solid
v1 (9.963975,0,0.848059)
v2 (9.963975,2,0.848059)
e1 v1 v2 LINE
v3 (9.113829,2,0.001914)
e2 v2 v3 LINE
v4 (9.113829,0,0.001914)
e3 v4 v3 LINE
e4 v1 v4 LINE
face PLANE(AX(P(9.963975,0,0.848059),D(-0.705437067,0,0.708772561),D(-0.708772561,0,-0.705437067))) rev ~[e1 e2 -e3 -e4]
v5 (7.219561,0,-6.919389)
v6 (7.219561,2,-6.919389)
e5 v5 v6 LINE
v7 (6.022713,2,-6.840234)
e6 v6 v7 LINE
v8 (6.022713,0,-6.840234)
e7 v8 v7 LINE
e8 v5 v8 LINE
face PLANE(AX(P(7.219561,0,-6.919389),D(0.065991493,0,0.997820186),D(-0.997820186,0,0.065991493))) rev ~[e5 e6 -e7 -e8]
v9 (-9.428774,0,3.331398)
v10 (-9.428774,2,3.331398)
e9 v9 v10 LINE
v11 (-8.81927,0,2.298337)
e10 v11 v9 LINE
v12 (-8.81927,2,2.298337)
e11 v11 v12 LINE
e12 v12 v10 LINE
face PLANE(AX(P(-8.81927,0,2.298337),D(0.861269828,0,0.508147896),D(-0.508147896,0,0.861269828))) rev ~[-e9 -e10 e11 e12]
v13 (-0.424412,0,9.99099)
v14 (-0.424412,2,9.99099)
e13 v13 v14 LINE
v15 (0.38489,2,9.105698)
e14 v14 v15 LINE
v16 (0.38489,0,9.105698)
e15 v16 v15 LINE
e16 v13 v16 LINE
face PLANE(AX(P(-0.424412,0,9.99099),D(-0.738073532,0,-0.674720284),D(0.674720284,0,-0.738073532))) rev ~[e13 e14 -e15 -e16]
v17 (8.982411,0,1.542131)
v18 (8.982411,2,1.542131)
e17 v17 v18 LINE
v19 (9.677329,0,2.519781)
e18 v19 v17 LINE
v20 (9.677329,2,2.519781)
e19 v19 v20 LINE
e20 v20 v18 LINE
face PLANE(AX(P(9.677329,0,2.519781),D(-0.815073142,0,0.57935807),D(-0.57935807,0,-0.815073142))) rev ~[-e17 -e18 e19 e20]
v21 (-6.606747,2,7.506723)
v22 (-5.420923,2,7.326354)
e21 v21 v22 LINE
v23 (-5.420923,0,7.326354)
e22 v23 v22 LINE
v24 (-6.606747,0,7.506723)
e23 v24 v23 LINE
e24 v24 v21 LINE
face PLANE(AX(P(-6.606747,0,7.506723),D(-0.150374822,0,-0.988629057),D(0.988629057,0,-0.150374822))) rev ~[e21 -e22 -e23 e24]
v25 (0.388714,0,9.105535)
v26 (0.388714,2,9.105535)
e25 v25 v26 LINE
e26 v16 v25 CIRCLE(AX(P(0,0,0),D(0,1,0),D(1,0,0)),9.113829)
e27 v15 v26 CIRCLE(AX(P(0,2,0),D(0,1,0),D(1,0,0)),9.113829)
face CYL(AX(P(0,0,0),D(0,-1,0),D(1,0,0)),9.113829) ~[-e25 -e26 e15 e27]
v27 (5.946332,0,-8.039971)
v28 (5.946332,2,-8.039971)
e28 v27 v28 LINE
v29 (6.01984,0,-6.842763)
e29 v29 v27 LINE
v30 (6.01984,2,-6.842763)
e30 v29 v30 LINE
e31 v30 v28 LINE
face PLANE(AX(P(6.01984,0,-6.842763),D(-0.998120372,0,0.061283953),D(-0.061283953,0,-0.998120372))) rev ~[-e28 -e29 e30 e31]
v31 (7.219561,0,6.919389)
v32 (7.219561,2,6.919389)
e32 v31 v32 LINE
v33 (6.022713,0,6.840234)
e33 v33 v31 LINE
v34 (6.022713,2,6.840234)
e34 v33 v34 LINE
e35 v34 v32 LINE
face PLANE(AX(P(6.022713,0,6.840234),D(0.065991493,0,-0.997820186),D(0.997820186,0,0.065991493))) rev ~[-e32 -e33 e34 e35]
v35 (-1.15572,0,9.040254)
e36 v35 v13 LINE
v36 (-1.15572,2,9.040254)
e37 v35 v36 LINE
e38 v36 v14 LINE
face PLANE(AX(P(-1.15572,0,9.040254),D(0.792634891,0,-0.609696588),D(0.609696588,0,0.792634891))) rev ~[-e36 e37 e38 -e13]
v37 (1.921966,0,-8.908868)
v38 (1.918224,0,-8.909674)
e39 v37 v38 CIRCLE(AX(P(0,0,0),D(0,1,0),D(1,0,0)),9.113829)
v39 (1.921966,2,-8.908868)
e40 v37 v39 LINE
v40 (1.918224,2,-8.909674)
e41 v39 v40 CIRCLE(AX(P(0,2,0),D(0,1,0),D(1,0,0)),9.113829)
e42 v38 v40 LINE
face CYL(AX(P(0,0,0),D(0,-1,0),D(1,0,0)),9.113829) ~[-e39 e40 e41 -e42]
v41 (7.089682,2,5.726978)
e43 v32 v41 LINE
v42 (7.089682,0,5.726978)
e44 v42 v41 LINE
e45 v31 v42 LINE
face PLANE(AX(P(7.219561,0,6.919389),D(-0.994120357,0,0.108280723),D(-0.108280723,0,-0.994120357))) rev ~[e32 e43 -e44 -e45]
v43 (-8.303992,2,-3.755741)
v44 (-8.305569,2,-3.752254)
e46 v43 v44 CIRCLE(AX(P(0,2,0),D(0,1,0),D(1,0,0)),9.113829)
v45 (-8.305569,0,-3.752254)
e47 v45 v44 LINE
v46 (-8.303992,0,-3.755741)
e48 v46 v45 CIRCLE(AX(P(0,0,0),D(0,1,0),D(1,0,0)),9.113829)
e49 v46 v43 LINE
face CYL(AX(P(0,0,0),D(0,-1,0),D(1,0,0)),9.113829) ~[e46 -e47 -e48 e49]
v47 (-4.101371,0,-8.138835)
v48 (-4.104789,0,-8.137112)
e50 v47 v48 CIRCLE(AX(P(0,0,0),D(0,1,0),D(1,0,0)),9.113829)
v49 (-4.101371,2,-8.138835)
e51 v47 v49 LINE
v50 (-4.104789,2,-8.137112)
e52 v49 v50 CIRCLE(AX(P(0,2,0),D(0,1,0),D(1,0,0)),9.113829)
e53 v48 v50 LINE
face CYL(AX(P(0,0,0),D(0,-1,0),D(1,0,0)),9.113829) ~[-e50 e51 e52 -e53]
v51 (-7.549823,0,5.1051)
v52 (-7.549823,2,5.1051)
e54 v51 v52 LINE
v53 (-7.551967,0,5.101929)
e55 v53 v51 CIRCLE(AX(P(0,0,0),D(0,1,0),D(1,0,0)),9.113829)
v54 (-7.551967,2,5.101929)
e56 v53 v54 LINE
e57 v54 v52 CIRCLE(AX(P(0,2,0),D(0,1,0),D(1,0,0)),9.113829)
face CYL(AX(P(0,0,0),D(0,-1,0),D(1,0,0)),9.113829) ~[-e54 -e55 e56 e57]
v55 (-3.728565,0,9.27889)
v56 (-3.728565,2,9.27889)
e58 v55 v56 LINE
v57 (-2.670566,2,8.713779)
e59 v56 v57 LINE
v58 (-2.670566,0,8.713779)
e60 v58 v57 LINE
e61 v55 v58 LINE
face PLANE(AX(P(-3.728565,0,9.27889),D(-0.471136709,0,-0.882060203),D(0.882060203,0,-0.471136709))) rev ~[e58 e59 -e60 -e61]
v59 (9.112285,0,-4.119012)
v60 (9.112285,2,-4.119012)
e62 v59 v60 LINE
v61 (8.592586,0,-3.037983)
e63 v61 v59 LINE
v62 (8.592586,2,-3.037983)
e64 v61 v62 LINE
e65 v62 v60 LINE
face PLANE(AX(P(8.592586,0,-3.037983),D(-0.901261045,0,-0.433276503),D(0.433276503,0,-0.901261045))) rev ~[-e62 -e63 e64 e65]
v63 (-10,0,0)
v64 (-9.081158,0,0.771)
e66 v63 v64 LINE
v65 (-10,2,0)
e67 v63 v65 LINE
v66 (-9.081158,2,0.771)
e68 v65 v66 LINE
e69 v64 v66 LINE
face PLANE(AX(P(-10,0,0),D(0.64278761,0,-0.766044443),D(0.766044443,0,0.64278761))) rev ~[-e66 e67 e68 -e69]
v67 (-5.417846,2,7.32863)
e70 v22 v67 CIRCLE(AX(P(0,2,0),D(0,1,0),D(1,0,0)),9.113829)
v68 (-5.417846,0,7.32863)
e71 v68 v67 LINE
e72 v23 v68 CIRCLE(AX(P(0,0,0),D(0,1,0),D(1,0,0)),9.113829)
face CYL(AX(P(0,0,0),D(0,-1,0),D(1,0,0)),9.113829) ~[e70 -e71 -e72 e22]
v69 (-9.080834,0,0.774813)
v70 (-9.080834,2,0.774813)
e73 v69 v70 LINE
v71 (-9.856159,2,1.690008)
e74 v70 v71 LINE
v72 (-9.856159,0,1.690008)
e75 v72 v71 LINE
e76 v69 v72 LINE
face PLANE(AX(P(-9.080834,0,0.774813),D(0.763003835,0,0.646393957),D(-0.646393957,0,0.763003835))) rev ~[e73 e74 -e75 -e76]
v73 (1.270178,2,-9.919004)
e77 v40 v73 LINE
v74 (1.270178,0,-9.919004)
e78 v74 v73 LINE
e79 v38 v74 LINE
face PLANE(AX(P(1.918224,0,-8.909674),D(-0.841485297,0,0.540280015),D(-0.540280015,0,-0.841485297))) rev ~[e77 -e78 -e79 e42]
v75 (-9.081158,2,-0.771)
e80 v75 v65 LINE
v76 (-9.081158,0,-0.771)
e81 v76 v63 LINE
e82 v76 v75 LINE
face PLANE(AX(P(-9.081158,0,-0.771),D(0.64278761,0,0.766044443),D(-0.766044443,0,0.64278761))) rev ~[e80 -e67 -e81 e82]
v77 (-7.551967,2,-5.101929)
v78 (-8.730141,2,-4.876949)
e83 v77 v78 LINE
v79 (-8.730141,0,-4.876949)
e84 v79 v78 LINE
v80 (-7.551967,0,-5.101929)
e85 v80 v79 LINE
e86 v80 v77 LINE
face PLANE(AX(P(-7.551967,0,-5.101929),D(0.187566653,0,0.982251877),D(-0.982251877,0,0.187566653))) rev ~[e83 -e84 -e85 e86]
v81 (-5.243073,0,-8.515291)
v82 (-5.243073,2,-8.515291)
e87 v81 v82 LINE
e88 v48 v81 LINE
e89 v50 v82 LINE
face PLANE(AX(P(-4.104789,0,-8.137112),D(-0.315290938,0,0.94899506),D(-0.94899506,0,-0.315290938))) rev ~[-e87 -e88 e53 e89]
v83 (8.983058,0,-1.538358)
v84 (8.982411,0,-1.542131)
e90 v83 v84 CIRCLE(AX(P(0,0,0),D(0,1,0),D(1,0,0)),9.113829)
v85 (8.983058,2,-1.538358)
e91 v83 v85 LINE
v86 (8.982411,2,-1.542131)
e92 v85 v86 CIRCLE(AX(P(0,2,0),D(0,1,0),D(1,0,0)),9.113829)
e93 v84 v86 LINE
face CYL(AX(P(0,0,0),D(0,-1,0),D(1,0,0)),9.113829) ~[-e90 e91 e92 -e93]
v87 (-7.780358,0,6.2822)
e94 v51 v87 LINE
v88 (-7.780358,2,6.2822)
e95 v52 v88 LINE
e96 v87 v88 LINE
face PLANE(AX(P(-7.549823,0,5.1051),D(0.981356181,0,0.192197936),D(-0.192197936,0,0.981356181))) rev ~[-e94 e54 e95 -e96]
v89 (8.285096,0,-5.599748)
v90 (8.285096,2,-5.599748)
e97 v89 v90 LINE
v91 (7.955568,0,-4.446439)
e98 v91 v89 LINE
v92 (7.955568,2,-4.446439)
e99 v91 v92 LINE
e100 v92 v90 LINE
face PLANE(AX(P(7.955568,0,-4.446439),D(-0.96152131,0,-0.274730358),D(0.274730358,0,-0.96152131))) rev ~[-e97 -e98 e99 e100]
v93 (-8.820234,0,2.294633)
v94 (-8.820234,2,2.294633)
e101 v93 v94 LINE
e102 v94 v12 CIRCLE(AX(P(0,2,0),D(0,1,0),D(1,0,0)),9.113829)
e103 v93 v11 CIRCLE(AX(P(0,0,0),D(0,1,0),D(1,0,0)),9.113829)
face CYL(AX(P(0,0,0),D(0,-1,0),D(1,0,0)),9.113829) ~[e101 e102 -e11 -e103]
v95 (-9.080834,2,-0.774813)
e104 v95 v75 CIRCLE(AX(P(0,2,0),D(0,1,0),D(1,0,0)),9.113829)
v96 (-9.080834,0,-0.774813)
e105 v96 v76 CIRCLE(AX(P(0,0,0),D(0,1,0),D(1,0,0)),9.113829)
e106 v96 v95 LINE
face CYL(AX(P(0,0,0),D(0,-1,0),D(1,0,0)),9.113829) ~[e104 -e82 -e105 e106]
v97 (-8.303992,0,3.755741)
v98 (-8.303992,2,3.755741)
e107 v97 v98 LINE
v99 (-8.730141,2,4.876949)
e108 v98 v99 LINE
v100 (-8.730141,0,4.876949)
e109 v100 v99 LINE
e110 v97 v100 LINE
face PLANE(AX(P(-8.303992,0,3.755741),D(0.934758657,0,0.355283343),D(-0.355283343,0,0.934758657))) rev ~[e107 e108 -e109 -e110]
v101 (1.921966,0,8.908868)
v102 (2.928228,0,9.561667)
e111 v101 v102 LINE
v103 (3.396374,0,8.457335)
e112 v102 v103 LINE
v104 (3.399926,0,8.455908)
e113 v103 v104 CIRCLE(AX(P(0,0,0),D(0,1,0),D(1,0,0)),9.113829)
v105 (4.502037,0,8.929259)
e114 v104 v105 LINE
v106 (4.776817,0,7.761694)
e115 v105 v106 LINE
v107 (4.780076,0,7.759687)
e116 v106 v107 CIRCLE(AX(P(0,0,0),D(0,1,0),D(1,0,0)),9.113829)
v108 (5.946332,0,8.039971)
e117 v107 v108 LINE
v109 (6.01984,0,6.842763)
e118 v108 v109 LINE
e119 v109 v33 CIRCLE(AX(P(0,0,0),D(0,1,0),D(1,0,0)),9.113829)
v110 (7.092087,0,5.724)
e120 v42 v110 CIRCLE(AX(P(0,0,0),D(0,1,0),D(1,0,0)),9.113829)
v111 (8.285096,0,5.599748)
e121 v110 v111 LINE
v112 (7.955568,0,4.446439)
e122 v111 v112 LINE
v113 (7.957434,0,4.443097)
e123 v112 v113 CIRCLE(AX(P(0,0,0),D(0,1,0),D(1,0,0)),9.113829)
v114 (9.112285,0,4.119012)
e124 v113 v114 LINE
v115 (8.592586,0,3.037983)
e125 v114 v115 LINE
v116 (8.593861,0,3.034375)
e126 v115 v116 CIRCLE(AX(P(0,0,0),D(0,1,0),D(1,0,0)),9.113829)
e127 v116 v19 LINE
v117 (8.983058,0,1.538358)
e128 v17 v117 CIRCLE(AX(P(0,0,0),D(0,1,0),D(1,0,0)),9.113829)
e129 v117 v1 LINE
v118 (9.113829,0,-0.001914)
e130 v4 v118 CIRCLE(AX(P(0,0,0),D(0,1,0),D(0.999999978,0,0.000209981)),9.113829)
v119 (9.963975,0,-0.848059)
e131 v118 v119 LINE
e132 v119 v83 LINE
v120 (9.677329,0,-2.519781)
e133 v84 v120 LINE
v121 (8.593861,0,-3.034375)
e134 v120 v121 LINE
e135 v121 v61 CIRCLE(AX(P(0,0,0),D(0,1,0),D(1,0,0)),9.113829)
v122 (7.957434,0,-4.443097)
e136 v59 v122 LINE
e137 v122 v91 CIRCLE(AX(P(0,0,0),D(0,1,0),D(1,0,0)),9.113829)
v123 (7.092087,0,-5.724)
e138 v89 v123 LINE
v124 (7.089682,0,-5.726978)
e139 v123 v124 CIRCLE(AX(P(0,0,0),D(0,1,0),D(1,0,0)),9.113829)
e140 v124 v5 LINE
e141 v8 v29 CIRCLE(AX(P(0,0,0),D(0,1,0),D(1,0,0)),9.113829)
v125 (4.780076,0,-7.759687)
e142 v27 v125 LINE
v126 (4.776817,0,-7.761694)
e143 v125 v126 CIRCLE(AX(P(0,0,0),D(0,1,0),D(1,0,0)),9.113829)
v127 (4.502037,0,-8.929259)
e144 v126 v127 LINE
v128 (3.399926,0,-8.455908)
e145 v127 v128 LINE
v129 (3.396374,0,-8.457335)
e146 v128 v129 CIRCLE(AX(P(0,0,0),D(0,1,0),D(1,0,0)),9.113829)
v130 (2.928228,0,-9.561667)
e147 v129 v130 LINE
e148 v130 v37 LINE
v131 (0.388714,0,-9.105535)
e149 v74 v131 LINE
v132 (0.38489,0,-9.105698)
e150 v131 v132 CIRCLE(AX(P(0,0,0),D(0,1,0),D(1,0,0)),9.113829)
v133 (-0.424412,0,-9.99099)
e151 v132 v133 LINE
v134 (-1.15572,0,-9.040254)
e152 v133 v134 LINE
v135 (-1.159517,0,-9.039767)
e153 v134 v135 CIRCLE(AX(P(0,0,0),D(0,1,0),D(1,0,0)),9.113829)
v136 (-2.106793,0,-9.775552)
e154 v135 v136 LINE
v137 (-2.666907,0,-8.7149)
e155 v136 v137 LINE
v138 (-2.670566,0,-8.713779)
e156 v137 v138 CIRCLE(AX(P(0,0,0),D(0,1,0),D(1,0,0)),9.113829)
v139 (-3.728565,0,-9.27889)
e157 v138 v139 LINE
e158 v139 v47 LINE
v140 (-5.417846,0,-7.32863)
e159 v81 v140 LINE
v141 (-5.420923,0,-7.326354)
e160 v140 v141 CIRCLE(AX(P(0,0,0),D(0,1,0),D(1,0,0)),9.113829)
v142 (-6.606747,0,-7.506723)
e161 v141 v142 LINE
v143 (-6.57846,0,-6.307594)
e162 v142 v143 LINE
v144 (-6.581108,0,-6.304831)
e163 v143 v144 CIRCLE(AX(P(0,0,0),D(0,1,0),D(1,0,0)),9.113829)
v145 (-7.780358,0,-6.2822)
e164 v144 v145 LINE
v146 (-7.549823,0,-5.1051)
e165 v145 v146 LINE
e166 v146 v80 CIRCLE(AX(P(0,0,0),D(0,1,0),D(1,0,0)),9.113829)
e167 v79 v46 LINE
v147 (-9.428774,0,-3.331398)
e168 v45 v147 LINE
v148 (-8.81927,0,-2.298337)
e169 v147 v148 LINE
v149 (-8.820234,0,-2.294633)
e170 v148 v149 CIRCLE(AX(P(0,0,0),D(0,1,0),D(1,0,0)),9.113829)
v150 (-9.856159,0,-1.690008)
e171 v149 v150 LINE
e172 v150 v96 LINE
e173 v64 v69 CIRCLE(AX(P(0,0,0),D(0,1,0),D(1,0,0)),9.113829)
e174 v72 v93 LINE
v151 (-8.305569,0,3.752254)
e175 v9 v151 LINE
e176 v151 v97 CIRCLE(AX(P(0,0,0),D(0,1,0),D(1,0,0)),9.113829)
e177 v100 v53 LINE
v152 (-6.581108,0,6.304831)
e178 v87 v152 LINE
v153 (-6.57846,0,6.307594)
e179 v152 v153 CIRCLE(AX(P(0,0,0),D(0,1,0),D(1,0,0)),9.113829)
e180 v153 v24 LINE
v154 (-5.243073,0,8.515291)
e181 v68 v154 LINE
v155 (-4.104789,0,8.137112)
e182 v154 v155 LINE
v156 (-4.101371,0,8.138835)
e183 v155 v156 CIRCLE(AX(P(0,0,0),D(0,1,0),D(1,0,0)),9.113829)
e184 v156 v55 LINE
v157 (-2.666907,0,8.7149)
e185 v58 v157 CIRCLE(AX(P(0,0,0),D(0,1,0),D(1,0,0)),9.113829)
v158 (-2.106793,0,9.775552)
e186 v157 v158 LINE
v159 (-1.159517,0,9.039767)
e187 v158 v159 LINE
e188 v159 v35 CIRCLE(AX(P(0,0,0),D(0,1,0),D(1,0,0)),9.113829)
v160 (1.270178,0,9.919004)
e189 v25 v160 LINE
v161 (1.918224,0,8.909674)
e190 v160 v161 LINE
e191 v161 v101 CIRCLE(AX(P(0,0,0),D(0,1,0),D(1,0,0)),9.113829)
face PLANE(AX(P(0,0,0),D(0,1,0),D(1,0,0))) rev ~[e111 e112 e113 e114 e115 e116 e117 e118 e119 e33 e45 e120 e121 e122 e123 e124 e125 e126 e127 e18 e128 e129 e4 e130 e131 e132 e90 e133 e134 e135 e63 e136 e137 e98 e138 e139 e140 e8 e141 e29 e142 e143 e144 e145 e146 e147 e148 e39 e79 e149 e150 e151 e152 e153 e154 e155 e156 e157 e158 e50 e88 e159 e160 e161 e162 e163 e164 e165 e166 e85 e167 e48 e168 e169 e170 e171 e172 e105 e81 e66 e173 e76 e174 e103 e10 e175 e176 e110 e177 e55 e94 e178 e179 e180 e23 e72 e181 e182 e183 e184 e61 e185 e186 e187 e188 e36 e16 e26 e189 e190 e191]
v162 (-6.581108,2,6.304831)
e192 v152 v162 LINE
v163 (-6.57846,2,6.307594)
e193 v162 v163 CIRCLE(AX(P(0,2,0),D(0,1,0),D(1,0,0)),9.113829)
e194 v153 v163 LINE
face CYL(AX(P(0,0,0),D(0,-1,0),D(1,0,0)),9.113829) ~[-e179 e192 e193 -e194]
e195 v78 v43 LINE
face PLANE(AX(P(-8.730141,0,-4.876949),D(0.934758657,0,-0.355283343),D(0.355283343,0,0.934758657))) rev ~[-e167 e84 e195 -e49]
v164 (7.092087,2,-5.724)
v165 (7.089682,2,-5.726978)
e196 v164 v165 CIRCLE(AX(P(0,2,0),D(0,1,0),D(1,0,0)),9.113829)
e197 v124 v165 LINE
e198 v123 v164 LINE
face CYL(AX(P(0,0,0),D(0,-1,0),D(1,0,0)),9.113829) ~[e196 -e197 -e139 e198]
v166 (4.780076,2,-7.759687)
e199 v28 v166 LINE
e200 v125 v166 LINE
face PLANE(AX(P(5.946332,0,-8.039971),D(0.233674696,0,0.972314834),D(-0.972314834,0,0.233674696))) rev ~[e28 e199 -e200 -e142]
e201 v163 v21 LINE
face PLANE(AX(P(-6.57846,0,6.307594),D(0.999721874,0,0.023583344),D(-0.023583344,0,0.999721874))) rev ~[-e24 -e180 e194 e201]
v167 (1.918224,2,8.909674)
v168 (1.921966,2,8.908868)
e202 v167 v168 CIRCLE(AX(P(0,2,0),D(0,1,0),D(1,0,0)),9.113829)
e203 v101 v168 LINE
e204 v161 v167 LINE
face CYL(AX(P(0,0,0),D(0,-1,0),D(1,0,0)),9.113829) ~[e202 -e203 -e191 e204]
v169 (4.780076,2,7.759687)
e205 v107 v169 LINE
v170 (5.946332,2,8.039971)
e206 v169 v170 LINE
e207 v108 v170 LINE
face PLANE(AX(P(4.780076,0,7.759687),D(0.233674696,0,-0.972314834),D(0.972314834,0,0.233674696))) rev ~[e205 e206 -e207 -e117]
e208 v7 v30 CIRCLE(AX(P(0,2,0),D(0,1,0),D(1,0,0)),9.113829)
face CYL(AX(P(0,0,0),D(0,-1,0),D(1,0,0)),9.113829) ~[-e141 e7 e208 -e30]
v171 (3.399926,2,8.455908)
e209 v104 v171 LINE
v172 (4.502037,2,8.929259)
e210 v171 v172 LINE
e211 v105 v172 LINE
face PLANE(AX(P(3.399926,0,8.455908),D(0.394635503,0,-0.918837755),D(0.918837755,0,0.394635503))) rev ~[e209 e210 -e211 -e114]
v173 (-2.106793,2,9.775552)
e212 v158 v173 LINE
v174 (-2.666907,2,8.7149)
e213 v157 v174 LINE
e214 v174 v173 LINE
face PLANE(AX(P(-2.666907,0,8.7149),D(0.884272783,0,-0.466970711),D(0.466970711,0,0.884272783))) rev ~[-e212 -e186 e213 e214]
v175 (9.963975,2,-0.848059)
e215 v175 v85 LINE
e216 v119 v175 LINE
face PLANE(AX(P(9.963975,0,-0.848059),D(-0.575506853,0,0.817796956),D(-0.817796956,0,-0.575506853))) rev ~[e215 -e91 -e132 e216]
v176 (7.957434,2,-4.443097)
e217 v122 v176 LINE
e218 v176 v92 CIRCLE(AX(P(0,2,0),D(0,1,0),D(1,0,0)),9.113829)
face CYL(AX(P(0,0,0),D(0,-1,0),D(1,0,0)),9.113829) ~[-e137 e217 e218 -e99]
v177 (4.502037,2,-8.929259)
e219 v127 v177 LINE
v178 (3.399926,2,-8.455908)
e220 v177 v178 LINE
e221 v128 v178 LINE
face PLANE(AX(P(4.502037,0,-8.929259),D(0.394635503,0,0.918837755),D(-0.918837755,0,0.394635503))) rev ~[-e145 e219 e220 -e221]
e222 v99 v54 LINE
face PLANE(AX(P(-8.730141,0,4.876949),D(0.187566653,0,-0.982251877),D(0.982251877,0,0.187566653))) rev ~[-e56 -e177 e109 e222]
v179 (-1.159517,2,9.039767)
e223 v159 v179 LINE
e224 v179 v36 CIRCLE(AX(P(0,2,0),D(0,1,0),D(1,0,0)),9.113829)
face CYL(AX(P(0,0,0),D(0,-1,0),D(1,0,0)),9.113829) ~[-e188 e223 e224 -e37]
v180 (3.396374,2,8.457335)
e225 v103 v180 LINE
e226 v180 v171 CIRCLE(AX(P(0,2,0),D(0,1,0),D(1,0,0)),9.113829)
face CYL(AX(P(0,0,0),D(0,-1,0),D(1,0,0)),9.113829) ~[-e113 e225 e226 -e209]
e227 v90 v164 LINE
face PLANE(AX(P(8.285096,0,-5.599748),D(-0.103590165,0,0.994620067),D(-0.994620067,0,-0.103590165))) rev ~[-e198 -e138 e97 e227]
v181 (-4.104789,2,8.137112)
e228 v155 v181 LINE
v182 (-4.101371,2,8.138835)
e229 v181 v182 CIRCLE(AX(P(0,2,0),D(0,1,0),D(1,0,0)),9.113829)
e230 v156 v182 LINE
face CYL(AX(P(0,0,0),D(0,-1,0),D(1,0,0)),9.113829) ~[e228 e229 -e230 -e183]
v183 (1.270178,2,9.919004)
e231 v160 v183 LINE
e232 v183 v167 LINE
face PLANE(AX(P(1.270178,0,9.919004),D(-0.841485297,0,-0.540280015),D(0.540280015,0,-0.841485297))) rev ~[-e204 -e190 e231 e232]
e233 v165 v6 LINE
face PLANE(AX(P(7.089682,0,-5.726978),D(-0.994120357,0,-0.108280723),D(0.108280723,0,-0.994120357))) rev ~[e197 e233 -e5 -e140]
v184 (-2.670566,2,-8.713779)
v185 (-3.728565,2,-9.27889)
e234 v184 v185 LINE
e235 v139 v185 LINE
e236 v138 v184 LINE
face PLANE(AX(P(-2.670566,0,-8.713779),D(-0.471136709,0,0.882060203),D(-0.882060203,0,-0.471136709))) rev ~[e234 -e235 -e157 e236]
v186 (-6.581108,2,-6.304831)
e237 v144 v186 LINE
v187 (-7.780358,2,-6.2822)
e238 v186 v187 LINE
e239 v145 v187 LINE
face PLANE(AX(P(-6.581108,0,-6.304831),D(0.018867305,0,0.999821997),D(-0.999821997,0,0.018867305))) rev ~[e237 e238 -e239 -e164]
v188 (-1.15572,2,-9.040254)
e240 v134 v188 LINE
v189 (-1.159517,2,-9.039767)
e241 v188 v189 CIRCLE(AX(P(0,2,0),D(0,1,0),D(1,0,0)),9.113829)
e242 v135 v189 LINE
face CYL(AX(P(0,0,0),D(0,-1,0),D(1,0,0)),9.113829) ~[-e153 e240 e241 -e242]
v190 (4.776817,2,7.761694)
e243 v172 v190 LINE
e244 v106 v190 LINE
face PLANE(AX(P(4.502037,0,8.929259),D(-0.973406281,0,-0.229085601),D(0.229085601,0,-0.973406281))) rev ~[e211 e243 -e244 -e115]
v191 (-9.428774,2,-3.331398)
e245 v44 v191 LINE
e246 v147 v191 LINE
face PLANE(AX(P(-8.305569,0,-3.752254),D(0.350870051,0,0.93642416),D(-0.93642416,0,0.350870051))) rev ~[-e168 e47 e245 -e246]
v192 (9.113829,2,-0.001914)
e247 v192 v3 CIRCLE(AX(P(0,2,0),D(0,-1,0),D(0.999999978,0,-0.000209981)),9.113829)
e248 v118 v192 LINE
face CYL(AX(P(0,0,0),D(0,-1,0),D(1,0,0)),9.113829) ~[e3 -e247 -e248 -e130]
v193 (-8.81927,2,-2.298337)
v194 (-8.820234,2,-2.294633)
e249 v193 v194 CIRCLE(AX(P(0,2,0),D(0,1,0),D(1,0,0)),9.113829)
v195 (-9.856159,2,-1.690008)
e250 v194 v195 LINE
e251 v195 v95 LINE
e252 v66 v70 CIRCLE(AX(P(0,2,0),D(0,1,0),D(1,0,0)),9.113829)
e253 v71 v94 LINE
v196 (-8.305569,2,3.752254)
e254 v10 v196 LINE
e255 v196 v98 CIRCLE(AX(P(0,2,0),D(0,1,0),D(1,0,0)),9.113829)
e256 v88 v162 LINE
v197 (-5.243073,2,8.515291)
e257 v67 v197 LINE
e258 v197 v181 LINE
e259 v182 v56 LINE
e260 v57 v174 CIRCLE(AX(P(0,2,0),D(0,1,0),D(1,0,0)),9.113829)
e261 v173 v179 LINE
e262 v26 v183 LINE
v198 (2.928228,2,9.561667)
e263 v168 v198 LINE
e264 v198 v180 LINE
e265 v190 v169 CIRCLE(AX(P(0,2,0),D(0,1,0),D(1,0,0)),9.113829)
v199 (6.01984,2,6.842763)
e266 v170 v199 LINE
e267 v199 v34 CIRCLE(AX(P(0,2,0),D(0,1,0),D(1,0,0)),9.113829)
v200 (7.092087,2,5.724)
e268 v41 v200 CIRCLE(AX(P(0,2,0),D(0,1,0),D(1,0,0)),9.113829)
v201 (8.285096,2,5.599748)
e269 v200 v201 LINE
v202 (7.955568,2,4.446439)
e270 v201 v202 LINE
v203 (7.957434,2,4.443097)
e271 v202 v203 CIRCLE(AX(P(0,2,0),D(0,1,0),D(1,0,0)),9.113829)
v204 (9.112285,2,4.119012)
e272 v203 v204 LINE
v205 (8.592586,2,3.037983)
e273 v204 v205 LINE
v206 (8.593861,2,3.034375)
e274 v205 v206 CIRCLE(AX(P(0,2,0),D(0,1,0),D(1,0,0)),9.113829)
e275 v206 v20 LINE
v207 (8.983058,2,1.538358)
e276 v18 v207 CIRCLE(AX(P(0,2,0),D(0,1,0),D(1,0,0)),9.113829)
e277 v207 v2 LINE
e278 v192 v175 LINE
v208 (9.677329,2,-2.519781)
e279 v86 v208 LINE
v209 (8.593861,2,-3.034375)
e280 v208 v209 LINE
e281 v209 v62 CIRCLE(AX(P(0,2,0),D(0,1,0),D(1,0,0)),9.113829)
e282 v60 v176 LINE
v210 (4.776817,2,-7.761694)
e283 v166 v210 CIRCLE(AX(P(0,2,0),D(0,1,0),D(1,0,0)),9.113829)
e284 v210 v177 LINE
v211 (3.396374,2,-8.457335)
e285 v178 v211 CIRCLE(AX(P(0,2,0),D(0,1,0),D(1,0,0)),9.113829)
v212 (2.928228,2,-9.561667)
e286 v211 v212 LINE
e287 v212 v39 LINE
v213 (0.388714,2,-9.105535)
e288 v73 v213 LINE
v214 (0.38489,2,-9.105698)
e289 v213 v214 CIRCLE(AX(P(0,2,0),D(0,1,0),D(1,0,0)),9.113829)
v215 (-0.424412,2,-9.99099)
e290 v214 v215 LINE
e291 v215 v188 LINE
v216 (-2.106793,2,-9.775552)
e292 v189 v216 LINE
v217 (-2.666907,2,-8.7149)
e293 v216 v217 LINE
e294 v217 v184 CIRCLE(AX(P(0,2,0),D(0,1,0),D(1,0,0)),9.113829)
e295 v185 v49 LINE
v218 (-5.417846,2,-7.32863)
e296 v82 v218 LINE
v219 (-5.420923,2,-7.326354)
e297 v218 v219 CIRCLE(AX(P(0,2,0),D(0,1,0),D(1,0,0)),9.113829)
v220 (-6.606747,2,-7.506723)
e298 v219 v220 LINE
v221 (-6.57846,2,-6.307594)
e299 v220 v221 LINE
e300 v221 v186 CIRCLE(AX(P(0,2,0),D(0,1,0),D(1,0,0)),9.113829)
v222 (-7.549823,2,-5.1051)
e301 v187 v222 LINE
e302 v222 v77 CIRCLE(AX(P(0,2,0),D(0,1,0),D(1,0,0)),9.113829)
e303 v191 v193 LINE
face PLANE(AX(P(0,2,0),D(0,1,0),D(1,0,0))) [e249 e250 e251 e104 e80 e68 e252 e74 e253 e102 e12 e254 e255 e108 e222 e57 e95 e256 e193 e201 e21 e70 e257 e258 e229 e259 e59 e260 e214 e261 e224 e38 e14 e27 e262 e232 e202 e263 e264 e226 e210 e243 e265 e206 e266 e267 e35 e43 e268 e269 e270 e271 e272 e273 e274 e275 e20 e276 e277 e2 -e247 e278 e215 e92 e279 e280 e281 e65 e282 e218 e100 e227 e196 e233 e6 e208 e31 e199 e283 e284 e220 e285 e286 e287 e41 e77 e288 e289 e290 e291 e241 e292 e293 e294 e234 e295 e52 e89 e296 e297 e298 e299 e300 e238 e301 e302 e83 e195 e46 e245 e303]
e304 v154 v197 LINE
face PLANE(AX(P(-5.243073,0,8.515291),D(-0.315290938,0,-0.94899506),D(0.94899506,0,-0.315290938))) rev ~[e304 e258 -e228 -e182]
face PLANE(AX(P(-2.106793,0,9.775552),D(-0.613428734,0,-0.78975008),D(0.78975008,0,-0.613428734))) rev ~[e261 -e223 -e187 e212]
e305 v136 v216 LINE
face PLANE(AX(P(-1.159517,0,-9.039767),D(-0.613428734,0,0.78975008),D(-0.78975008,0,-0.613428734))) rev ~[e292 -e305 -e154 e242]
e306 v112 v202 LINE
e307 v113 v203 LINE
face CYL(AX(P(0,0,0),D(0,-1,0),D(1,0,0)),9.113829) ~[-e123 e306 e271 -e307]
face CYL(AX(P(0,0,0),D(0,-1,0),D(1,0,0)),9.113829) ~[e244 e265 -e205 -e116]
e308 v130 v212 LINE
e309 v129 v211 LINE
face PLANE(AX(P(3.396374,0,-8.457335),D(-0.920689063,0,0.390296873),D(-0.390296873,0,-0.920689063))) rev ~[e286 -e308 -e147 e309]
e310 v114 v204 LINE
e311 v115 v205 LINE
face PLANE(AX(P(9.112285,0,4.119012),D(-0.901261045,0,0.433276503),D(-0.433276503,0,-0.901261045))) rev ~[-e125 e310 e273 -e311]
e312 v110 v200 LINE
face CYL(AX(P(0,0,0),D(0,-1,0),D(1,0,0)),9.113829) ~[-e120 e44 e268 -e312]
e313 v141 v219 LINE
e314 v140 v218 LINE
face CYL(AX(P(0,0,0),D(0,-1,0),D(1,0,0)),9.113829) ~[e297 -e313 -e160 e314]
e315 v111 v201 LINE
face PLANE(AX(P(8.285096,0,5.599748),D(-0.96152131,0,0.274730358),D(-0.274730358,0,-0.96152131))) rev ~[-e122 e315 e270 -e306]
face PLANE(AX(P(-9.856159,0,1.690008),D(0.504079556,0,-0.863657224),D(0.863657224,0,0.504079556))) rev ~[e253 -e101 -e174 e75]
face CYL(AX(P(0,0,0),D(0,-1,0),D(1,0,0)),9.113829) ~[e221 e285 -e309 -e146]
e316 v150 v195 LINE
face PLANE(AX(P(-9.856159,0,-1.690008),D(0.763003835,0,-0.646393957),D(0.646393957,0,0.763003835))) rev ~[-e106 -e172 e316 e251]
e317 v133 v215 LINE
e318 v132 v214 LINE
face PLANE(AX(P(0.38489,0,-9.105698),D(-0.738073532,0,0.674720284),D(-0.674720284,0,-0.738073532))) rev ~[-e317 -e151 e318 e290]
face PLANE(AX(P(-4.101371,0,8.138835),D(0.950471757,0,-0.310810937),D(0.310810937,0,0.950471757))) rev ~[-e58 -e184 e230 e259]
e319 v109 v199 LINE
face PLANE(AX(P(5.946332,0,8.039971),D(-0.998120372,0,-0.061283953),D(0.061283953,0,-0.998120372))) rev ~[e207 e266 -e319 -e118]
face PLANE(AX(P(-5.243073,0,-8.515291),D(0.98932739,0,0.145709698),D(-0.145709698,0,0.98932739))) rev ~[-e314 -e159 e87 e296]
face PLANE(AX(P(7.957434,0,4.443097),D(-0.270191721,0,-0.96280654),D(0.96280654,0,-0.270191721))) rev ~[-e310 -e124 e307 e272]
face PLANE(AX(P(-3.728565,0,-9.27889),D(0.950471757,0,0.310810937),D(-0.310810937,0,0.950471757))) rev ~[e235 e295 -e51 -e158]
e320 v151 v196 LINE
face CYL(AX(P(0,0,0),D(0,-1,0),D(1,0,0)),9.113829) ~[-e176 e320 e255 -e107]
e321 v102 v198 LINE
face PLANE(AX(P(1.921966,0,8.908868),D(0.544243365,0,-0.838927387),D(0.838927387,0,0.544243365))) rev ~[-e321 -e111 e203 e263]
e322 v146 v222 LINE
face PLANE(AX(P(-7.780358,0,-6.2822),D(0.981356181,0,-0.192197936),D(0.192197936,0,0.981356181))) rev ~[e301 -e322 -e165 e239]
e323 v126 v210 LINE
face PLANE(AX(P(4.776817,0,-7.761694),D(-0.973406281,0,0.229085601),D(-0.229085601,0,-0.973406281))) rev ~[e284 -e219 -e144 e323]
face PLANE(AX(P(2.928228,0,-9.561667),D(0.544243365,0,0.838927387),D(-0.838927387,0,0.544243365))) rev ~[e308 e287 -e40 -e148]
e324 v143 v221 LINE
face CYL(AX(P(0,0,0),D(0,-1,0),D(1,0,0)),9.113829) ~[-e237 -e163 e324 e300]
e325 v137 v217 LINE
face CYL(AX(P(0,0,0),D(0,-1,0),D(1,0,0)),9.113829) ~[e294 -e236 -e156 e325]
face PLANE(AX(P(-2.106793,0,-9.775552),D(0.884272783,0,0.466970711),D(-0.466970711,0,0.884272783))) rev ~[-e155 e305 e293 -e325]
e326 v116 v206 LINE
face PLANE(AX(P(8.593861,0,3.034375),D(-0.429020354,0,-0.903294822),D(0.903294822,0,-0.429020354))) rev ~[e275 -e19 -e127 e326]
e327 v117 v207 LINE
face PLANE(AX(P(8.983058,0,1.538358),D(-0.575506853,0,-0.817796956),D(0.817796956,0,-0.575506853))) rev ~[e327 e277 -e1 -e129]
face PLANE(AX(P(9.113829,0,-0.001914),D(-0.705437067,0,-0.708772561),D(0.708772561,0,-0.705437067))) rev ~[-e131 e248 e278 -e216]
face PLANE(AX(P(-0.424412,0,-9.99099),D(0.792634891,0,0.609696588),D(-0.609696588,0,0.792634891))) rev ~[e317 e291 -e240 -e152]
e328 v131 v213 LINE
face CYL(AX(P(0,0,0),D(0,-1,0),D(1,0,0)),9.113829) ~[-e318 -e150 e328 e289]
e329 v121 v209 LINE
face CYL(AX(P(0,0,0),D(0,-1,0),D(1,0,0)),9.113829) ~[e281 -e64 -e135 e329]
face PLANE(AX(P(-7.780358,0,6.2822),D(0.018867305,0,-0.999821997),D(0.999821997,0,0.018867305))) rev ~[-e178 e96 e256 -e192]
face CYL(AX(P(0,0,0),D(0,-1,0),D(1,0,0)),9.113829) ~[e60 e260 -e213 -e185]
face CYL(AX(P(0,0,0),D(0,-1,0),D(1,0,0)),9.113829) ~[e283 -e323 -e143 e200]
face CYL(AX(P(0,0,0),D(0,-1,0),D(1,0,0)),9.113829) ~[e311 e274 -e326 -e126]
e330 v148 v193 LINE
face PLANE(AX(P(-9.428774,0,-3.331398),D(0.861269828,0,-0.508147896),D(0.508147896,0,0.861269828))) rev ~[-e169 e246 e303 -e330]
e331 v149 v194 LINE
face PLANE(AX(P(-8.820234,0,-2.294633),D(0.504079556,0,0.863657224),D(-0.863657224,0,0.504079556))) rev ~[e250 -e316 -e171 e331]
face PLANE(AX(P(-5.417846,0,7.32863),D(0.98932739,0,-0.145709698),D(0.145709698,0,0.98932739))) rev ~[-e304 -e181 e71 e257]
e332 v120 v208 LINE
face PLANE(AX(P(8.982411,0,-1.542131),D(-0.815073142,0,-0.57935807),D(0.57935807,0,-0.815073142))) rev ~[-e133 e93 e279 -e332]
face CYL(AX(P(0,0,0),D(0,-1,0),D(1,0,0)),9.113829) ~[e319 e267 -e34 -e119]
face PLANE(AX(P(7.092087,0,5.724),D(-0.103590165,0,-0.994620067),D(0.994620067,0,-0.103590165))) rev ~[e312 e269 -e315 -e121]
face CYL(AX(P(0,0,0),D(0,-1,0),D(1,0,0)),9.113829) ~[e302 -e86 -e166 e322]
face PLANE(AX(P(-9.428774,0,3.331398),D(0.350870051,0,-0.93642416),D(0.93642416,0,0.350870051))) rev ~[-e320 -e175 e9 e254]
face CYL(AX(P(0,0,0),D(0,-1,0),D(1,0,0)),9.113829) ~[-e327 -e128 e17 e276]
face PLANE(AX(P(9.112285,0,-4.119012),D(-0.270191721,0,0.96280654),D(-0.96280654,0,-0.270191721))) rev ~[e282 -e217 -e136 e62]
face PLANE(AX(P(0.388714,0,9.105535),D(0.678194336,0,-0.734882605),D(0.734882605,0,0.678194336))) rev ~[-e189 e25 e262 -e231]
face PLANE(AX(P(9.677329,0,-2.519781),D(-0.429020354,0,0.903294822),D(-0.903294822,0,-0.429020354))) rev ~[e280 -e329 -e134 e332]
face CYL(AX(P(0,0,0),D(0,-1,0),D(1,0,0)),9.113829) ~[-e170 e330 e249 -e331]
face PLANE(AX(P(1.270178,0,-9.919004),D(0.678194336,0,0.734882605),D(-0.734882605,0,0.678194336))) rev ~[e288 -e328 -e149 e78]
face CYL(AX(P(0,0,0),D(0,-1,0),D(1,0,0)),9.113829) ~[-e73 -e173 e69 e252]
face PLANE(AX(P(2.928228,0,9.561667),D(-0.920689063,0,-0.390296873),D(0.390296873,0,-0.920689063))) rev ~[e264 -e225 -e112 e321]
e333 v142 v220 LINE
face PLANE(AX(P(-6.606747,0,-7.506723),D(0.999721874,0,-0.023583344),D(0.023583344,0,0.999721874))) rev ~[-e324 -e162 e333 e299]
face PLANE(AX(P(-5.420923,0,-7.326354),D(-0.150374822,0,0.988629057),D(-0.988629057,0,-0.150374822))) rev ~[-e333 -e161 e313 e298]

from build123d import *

# Parameters (mm, degrees)
BOSS_EXTRUDE2_DEPTH    = 2
BOSS_EXTRUDE2_2_DEPTH  = 2
BOSS_EXTRUDE2_3_DEPTH  = 2
BOSS_EXTRUDE2_4_DEPTH  = 2
BOSS_EXTRUDE2_5_DEPTH  = 2
BOSS_EXTRUDE2_6_DEPTH  = 2
BOSS_EXTRUDE2_7_DEPTH  = 2
BOSS_EXTRUDE2_8_DEPTH  = 2
BOSS_EXTRUDE2_9_DEPTH  = 2
BOSS_EXTRUDE2_10_DEPTH = 2
BOSS_EXTRUDE2_11_DEPTH = 2
BOSS_EXTRUDE2_12_DEPTH = 2
BOSS_EXTRUDE2_13_DEPTH = 2
BOSS_EXTRUDE2_14_DEPTH = 2
BOSS_EXTRUDE2_15_DEPTH = 2
BOSS_EXTRUDE2_16_DEPTH = 2
BOSS_EXTRUDE2_17_DEPTH = 2
BOSS_EXTRUDE2_18_DEPTH = 2
BOSS_EXTRUDE2_19_DEPTH = 2
BOSS_EXTRUDE2_20_DEPTH = 2
BOSS_EXTRUDE2_21_DEPTH = 2
BOSS_EXTRUDE2_22_DEPTH = 2
BOSS_EXTRUDE2_23_DEPTH = 2
BOSS_EXTRUDE2_24_DEPTH = 2
BOSS_EXTRUDE2_25_DEPTH = 2
BOSS_EXTRUDE2_26_DEPTH = 2
BOSS_EXTRUDE2_27_DEPTH = 2
BOSS_EXTRUDE2_28_DEPTH = 2
BOSS_EXTRUDE2_29_DEPTH = 2
BOSS_EXTRUDE2_30_DEPTH = 2
BOSS_EXTRUDE2_31_DEPTH = 2
BOSS_EXTRUDE2_32_DEPTH = 2
BOSS_EXTRUDE2_33_DEPTH = 2
BOSS_EXTRUDE2_34_DEPTH = 2
BOSS_EXTRUDE2_35_DEPTH = 2
BOSS_EXTRUDE2_36_DEPTH = 2
BOSS_EXTRUDE2_37_DEPTH = 2
SKETCH1_7_R            = 9.11382877
BOSS_EXTRUDE3_DEPTH    = 2


with BuildPart() as part:
    # Sketch1 → Boss-Extrude2 (new body)
    with BuildSketch(Plane(origin=(0, 0, 0), x_dir=(1, 0, 0), z_dir=(0, 1, 0))):
        with BuildLine():
            ThreePointArc((0.384889844, -9.105697923), (-0.386801859, -9.105616902), (-1.155720405, -9.040253602))
            Line((-1.155720405, -9.040253602), (-0.424412032, -9.990989662))
            Line((-0.424412032, -9.990989662), (0.384889844, -9.105697923))
        make_face()
    extrude(amount=BOSS_EXTRUDE2_DEPTH)



with BuildPart() as body_2:
    # Sketch1 → Boss-Extrude2 2 (new body)
    with BuildSketch(Plane(origin=(0, 0, 0), x_dir=(1, 0, 0), z_dir=(0, 1, 0))):
        with BuildLine():
            ThreePointArc((1.918223973, -8.909674048), (1.15761866, -9.040010724), (0.388713856, -9.105535481))
            Line((0.388713856, -9.105535481), (1.270178197, -9.919004353))
            Line((1.270178197, -9.919004353), (1.918223973, -8.909674048))
        make_face()
    extrude(amount=BOSS_EXTRUDE2_2_DEPTH)


with BuildPart() as body_3:
    # Sketch1 → Boss-Extrude2 3 (new body)
    with BuildSketch(Plane(origin=(0, 0, 0), x_dir=(1, 0, 0), z_dir=(0, 1, 0))):
        with BuildLine():
            ThreePointArc((3.39637429, -8.457335073), (2.668736597, -8.714339896), (1.921965527, -8.908867681))
            Line((1.921965527, -8.908867681), (2.928227713, -9.561667347))
            Line((2.928227713, -9.561667347), (3.39637429, -8.457335073))
        make_face()
    extrude(amount=BOSS_EXTRUDE2_3_DEPTH)


with BuildPart() as body_4:
    # Sketch1 → Boss-Extrude2 4 (new body)
    with BuildSketch(Plane(origin=(0, 0, 0), x_dir=(1, 0, 0), z_dir=(0, 1, 0))):
        with BuildLine():
            ThreePointArc((4.776817103, -7.761693966), (4.103079842, -8.137973376), (3.399925749, -8.455907979))
            Line((3.399925749, -8.455907979), (4.502037448, -8.929258581))
            Line((4.502037448, -8.929258581), (4.776817103, -7.761693966))
        make_face()
    extrude(amount=BOSS_EXTRUDE2_4_DEPTH)


with BuildPart() as body_5:
    # Sketch1 → Boss-Extrude2 5 (new body)
    with BuildSketch(Plane(origin=(0, 0, 0), x_dir=(1, 0, 0), z_dir=(0, 1, 0))):
        with BuildLine():
            ThreePointArc((6.019839585, -6.842763055), (5.41938495, -7.327492178), (4.780076297, -7.7596872))
            Line((4.780076297, -7.7596872), (5.946331763, -8.039971304))
            Line((5.946331763, -8.039971304), (6.019839585, -6.842763055))
        make_face()
    extrude(amount=BOSS_EXTRUDE2_5_DEPTH)


with BuildPart() as body_6:
    # Sketch1 → Boss-Extrude2 6 (new body)
    with BuildSketch(Plane(origin=(0, 0, 0), x_dir=(1, 0, 0), z_dir=(0, 1, 0))):
        with BuildLine():
            ThreePointArc((7.089682242, -5.72697831), (6.57978422, -6.306212371), (6.022712753, -6.840234349))
            Line((6.022712753, -6.840234349), (7.21956094, -6.91938869))
            Line((7.21956094, -6.91938869), (7.089682242, -5.72697831))
        make_face()
    extrude(amount=BOSS_EXTRUDE2_6_DEPTH)


with BuildPart() as body_7:
    # Sketch1 → Boss-Extrude2 7 (new body)
    with BuildSketch(Plane(origin=(0, 0, 0), x_dir=(1, 0, 0), z_dir=(0, 1, 0))):
        with BuildLine():
            ThreePointArc((7.955567649, -4.446438825), (7.550895078, -5.103514316), (7.092086729, -5.724000409))
            Line((7.092086729, -5.724000409), (8.285096492, -5.599747861))
            Line((8.285096492, -5.599747861), (7.955567649, -4.446438825))
        make_face()
    extrude(amount=BOSS_EXTRUDE2_7_DEPTH)


with BuildPart() as body_8:
    # Sketch1 → Boss-Extrude2 8 (new body)
    with BuildSketch(Plane(origin=(0, 0, 0), x_dir=(1, 0, 0), z_dir=(0, 1, 0))):
        with BuildLine():
            ThreePointArc((8.59258586, -3.037983392), (8.304780432, -3.753997447), (7.957434282, -4.443097399))
            Line((7.957434282, -4.443097399), (9.112284904, -4.119012482))
            Line((9.112284904, -4.119012482), (8.59258586, -3.037983392))
        make_face()
    extrude(amount=BOSS_EXTRUDE2_8_DEPTH)


with BuildPart() as body_9:
    # Sketch1 → Boss-Extrude2 9 (new body)
    with BuildSketch(Plane(origin=(0, 0, 0), x_dir=(1, 0, 0), z_dir=(0, 1, 0))):
        with BuildLine():
            ThreePointArc((8.98241102, -1.542130707), (8.819752374, -2.296484905), (8.593860939, -3.034374566))
            Line((8.593860939, -3.034374566), (9.677329469, -2.519780614))
            Line((9.677329469, -2.519780614), (8.98241102, -1.542130707))
        make_face()
    extrude(amount=BOSS_EXTRUDE2_9_DEPTH)


with BuildPart() as body_10:
    # Sketch1 → Boss-Extrude2 10 (new body)
    with BuildSketch(Plane(origin=(0, 0, 0), x_dir=(1, 0, 0), z_dir=(0, 1, 0))):
        with BuildLine():
            ThreePointArc((9.113828569, -0.00191373), (9.080996098, -0.772906674), (8.983057864, -1.538358302))
            Line((8.983057864, -1.538358302), (9.963974885, -0.848059245))
            Line((9.963974885, -0.848059245), (9.113828569, -0.00191373))
        make_face()
    extrude(amount=BOSS_EXTRUDE2_10_DEPTH)


with BuildPart() as body_11:
    # Sketch1 → Boss-Extrude2 11 (new body)
    with BuildSketch(Plane(origin=(0, 0, 0), x_dir=(1, 0, 0), z_dir=(0, 1, 0))):
        with BuildLine():
            Line((9.963974885, 0.848059245), (8.983057864, 1.538358302))
            ThreePointArc((8.983057864, 1.538358302), (9.080996098, 0.772906674), (9.113828569, 0.00191373))
            Line((9.113828569, 0.00191373), (9.963974885, 0.848059245))
        make_face()
    extrude(amount=BOSS_EXTRUDE2_11_DEPTH)


with BuildPart() as body_12:
    # Sketch1 → Boss-Extrude2 12 (new body)
    with BuildSketch(Plane(origin=(0, 0, 0), x_dir=(1, 0, 0), z_dir=(0, 1, 0))):
        with BuildLine():
            Line((9.677329469, 2.519780614), (8.593860939, 3.034374566))
            ThreePointArc((8.593860939, 3.034374566), (8.819752374, 2.296484905), (8.98241102, 1.542130707))
            Line((8.98241102, 1.542130707), (9.677329469, 2.519780614))
        make_face()
    extrude(amount=BOSS_EXTRUDE2_12_DEPTH)


with BuildPart() as body_13:
    # Sketch1 → Boss-Extrude2 13 (new body)
    with BuildSketch(Plane(origin=(0, 0, 0), x_dir=(1, 0, 0), z_dir=(0, 1, 0))):
        with BuildLine():
            Line((9.112284904, 4.119012482), (7.957434282, 4.443097399))
            ThreePointArc((7.957434282, 4.443097399), (8.304780432, 3.753997447), (8.59258586, 3.037983392))
            Line((8.59258586, 3.037983392), (9.112284904, 4.119012482))
        make_face()
    extrude(amount=BOSS_EXTRUDE2_13_DEPTH)


with BuildPart() as body_14:
    # Sketch1 → Boss-Extrude2 14 (new body)
    with BuildSketch(Plane(origin=(0, 0, 0), x_dir=(1, 0, 0), z_dir=(0, 1, 0))):
        with BuildLine():
            Line((8.285096492, 5.599747861), (7.092086729, 5.724000409))
            ThreePointArc((7.092086729, 5.724000409), (7.550895078, 5.103514316), (7.955567649, 4.446438825))
            Line((7.955567649, 4.446438825), (8.285096492, 5.599747861))
        make_face()
    extrude(amount=BOSS_EXTRUDE2_14_DEPTH)


with BuildPart() as body_15:
    # Sketch1 → Boss-Extrude2 15 (new body)
    with BuildSketch(Plane(origin=(0, 0, 0), x_dir=(1, 0, 0), z_dir=(0, 1, 0))):
        with BuildLine():
            Line((7.21956094, 6.91938869), (6.022712753, 6.840234349))
            ThreePointArc((6.022712753, 6.840234349), (6.57978422, 6.306212371), (7.089682242, 5.72697831))
            Line((7.089682242, 5.72697831), (7.21956094, 6.91938869))
        make_face()
    extrude(amount=BOSS_EXTRUDE2_15_DEPTH)


with BuildPart() as body_16:
    # Sketch1 → Boss-Extrude2 16 (new body)
    with BuildSketch(Plane(origin=(0, 0, 0), x_dir=(1, 0, 0), z_dir=(0, 1, 0))):
        with BuildLine():
            Line((5.946331763, 8.039971304), (4.780076297, 7.7596872))
            ThreePointArc((4.780076297, 7.7596872), (5.41938495, 7.327492178), (6.019839585, 6.842763055))
            Line((6.019839585, 6.842763055), (5.946331763, 8.039971304))
        make_face()
    extrude(amount=BOSS_EXTRUDE2_16_DEPTH)


with BuildPart() as body_17:
    # Sketch1 → Boss-Extrude2 17 (new body)
    with BuildSketch(Plane(origin=(0, 0, 0), x_dir=(1, 0, 0), z_dir=(0, 1, 0))):
        with BuildLine():
            Line((4.502037448, 8.929258581), (3.399925749, 8.455907979))
            ThreePointArc((3.399925749, 8.455907979), (4.103079842, 8.137973376), (4.776817103, 7.761693966))
            Line((4.776817103, 7.761693966), (4.502037448, 8.929258581))
        make_face()
    extrude(amount=BOSS_EXTRUDE2_17_DEPTH)


with BuildPart() as body_18:
    # Sketch1 → Boss-Extrude2 18 (new body)
    with BuildSketch(Plane(origin=(0, 0, 0), x_dir=(1, 0, 0), z_dir=(0, 1, 0))):
        with BuildLine():
            Line((2.928227713, 9.561667347), (1.921965527, 8.908867681))
            ThreePointArc((1.921965527, 8.908867681), (2.668736597, 8.714339896), (3.39637429, 8.457335073))
            Line((3.39637429, 8.457335073), (2.928227713, 9.561667347))
        make_face()
    extrude(amount=BOSS_EXTRUDE2_18_DEPTH)


with BuildPart() as body_19:
    # Sketch1 → Boss-Extrude2 19 (new body)
    with BuildSketch(Plane(origin=(0, 0, 0), x_dir=(1, 0, 0), z_dir=(0, 1, 0))):
        with BuildLine():
            Line((1.270178197, 9.919004353), (0.388713856, 9.105535481))
            ThreePointArc((0.388713856, 9.105535481), (1.15761866, 9.040010724), (1.918223973, 8.909674048))
            Line((1.918223973, 8.909674048), (1.270178197, 9.919004353))
        make_face()
    extrude(amount=BOSS_EXTRUDE2_19_DEPTH)


with BuildPart() as body_20:
    # Sketch1 → Boss-Extrude2 20 (new body)
    with BuildSketch(Plane(origin=(0, 0, 0), x_dir=(1, 0, 0), z_dir=(0, 1, 0))):
        with BuildLine():
            Line((-0.424412032, 9.990989662), (-1.155720405, 9.040253602))
            ThreePointArc((-1.155720405, 9.040253602), (-0.386801859, 9.105616902), (0.384889844, 9.105697923))
            Line((0.384889844, 9.105697923), (-0.424412032, 9.990989662))
        make_face()
    extrude(amount=BOSS_EXTRUDE2_20_DEPTH)


with BuildPart() as body_21:
    # Sketch1 → Boss-Extrude2 21 (new body)
    with BuildSketch(Plane(origin=(0, 0, 0), x_dir=(1, 0, 0), z_dir=(0, 1, 0))):
        with BuildLine():
            Line((-2.1067927, 9.775552389), (-2.666906693, 8.714900088))
            ThreePointArc((-2.666906693, 8.714900088), (-1.920094792, 8.909271061), (-1.159516864, 9.039767447))
            Line((-1.159516864, 9.039767447), (-2.1067927, 9.775552389))
        make_face()
    extrude(amount=BOSS_EXTRUDE2_21_DEPTH)


with BuildPart() as body_22:
    # Sketch1 → Boss-Extrude2 22 (new body)
    with BuildSketch(Plane(origin=(0, 0, 0), x_dir=(1, 0, 0), z_dir=(0, 1, 0))):
        with BuildLine():
            Line((-3.728564778, 9.278890273), (-4.101370932, 8.138834765))
            ThreePointArc((-4.101370932, 8.138834765), (-3.398150094, 8.456621712), (-2.670566384, 8.71377932))
            Line((-2.670566384, 8.71377932), (-3.728564778, 9.278890273))
        make_face()
    extrude(amount=BOSS_EXTRUDE2_22_DEPTH)


with BuildPart() as body_23:
    # Sketch1 → Boss-Extrude2 23 (new body)
    with BuildSketch(Plane(origin=(0, 0, 0), x_dir=(1, 0, 0), z_dir=(0, 1, 0))):
        with BuildLine():
            Line((-5.243072836, 8.515291377), (-5.417846197, 7.328629984))
            ThreePointArc((-5.417846197, 7.328629984), (-4.778446805, 7.760690754), (-4.104788571, 8.137111628))
            Line((-4.104788571, 8.137111628), (-5.243072836, 8.515291377))
        make_face()
    extrude(amount=BOSS_EXTRUDE2_23_DEPTH)


with BuildPart() as body_24:
    # Sketch1 → Boss-Extrude2 24 (new body)
    with BuildSketch(Plane(origin=(0, 0, 0), x_dir=(1, 0, 0), z_dir=(0, 1, 0))):
        with BuildLine():
            Line((-6.606747234, 7.506723053), (-6.57845989, 6.307593861))
            ThreePointArc((-6.57845989, 6.307593861), (-6.021276302, 6.841498853), (-5.420923464, 7.326354049))
            Line((-5.420923464, 7.326354049), (-6.606747234, 7.506723053))
        make_face()
    extrude(amount=BOSS_EXTRUDE2_24_DEPTH)


with BuildPart() as body_25:
    # Sketch1 → Boss-Extrude2 25 (new body)
    with BuildSketch(Plane(origin=(0, 0, 0), x_dir=(1, 0, 0), z_dir=(0, 1, 0))):
        with BuildLine():
            Line((-7.780357543, 6.282199973), (-7.54982327, 5.105099748))
            ThreePointArc((-7.54982327, 5.105099748), (-7.090884642, 5.725489485), (-6.581108259, 6.304830603))
            Line((-6.581108259, 6.304830603), (-7.780357543, 6.282199973))
        make_face()
    extrude(amount=BOSS_EXTRUDE2_25_DEPTH)


with BuildPart() as body_26:
    # Sketch1 → Boss-Extrude2 26 (new body)
    with BuildSketch(Plane(origin=(0, 0, 0), x_dir=(1, 0, 0), z_dir=(0, 1, 0))):
        with BuildLine():
            Line((-8.730141132, 4.876949438), (-8.303991981, 3.755741209))
            ThreePointArc((-8.303991981, 3.755741209), (-7.956501141, 4.44476821), (-7.551966552, 5.10192866))
            Line((-7.551966552, 5.10192866), (-8.730141132, 4.876949438))
        make_face()
    extrude(amount=BOSS_EXTRUDE2_26_DEPTH)


with BuildPart() as body_27:
    # Sketch1 → Boss-Extrude2 27 (new body)
    with BuildSketch(Plane(origin=(0, 0, 0), x_dir=(1, 0, 0), z_dir=(0, 1, 0))):
        with BuildLine():
            Line((-9.428774455, 3.331397947), (-8.819269961, 2.298336834))
            ThreePointArc((-8.819269961, 2.298336834), (-8.593223589, 3.036179046), (-8.305568517, 3.752253518))
            Line((-8.305568517, 3.752253518), (-9.428774455, 3.331397947))
        make_face()
    extrude(amount=BOSS_EXTRUDE2_27_DEPTH)


with BuildPart() as body_28:
    # Sketch1 → Boss-Extrude2 28 (new body)
    with BuildSketch(Plane(origin=(0, 0, 0), x_dir=(1, 0, 0), z_dir=(0, 1, 0))):
        with BuildLine():
            Line((-9.856159103, 1.690008203), (-9.080833602, 0.774813493))
            ThreePointArc((-9.080833602, 0.774813493), (-8.98273464, 1.540244538), (-8.820234397, 2.294632875))
            Line((-8.820234397, 2.294632875), (-9.856159103, 1.690008203))
        make_face()
    extrude(amount=BOSS_EXTRUDE2_28_DEPTH)


with BuildPart() as body_29:
    # Sketch1 → Boss-Extrude2 29 (new body)
    with BuildSketch(Plane(origin=(0, 0, 0), x_dir=(1, 0, 0), z_dir=(0, 1, 0))):
        with BuildLine():
            Line((-9.081158193, 0.770999821), (-10, 0))
            Line((-10, 0), (-9.081158193, -0.770999821))
            ThreePointArc((-9.081158193, -0.770999821), (-9.11382877, 0), (-9.081158193, 0.770999821))
        make_face()
    extrude(amount=BOSS_EXTRUDE2_29_DEPTH)


with BuildPart() as body_30:
    # Sketch1 → Boss-Extrude2 30 (new body)
    with BuildSketch(Plane(origin=(0, 0, 0), x_dir=(1, 0, 0), z_dir=(0, 1, 0))):
        with BuildLine():
            ThreePointArc((-8.820234397, -2.294632875), (-8.98273464, -1.540244538), (-9.080833602, -0.774813493))
            Line((-9.080833602, -0.774813493), (-9.856159103, -1.690008203))
            Line((-9.856159103, -1.690008203), (-8.820234397, -2.294632875))
        make_face()
    extrude(amount=BOSS_EXTRUDE2_30_DEPTH)


with BuildPart() as body_31:
    # Sketch1 → Boss-Extrude2 31 (new body)
    with BuildSketch(Plane(origin=(0, 0, 0), x_dir=(1, 0, 0), z_dir=(0, 1, 0))):
        with BuildLine():
            ThreePointArc((-8.305568517, -3.752253518), (-8.593223589, -3.036179046), (-8.819269961, -2.298336834))
            Line((-8.819269961, -2.298336834), (-9.428774455, -3.331397947))
            Line((-9.428774455, -3.331397947), (-8.305568517, -3.752253518))
        make_face()
    extrude(amount=BOSS_EXTRUDE2_31_DEPTH)


with BuildPart() as body_32:
    # Sketch1 → Boss-Extrude2 32 (new body)
    with BuildSketch(Plane(origin=(0, 0, 0), x_dir=(1, 0, 0), z_dir=(0, 1, 0))):
        with BuildLine():
            ThreePointArc((-7.551966552, -5.10192866), (-7.956501141, -4.44476821), (-8.303991981, -3.755741209))
            Line((-8.303991981, -3.755741209), (-8.730141132, -4.876949438))
            Line((-8.730141132, -4.876949438), (-7.551966552, -5.10192866))
        make_face()
    extrude(amount=BOSS_EXTRUDE2_32_DEPTH)


with BuildPart() as body_33:
    # Sketch1 → Boss-Extrude2 33 (new body)
    with BuildSketch(Plane(origin=(0, 0, 0), x_dir=(1, 0, 0), z_dir=(0, 1, 0))):
        with BuildLine():
            ThreePointArc((-6.581108259, -6.304830603), (-7.090884642, -5.725489485), (-7.54982327, -5.105099748))
            Line((-7.54982327, -5.105099748), (-7.780357543, -6.282199973))
            Line((-7.780357543, -6.282199973), (-6.581108259, -6.304830603))
        make_face()
    extrude(amount=BOSS_EXTRUDE2_33_DEPTH)


with BuildPart() as body_34:
    # Sketch1 → Boss-Extrude2 34 (new body)
    with BuildSketch(Plane(origin=(0, 0, 0), x_dir=(1, 0, 0), z_dir=(0, 1, 0))):
        with BuildLine():
            ThreePointArc((-5.420923464, -7.326354049), (-6.021276302, -6.841498853), (-6.57845989, -6.307593861))
            Line((-6.57845989, -6.307593861), (-6.606747234, -7.506723053))
            Line((-6.606747234, -7.506723053), (-5.420923464, -7.326354049))
        make_face()
    extrude(amount=BOSS_EXTRUDE2_34_DEPTH)


with BuildPart() as body_35:
    # Sketch1 → Boss-Extrude2 35 (new body)
    with BuildSketch(Plane(origin=(0, 0, 0), x_dir=(1, 0, 0), z_dir=(0, 1, 0))):
        with BuildLine():
            ThreePointArc((-4.104788571, -8.137111628), (-4.778446805, -7.760690754), (-5.417846197, -7.328629984))
            Line((-5.417846197, -7.328629984), (-5.243072836, -8.515291377))
            Line((-5.243072836, -8.515291377), (-4.104788571, -8.137111628))
        make_face()
    extrude(amount=BOSS_EXTRUDE2_35_DEPTH)


with BuildPart() as body_36:
    # Sketch1 → Boss-Extrude2 36 (new body)
    with BuildSketch(Plane(origin=(0, 0, 0), x_dir=(1, 0, 0), z_dir=(0, 1, 0))):
        with BuildLine():
            ThreePointArc((-2.670566384, -8.71377932), (-3.398150094, -8.456621712), (-4.101370932, -8.138834765))
            Line((-4.101370932, -8.138834765), (-3.728564778, -9.278890273))
            Line((-3.728564778, -9.278890273), (-2.670566384, -8.71377932))
        make_face()
    extrude(amount=BOSS_EXTRUDE2_36_DEPTH)


with BuildPart() as body_37:
    # Sketch1 → Boss-Extrude2 37 (new body)
    with BuildSketch(Plane(origin=(0, 0, 0), x_dir=(1, 0, 0), z_dir=(0, 1, 0))):
        with BuildLine():
            ThreePointArc((-1.159516864, -9.039767447), (-1.920094792, -8.909271061), (-2.666906693, -8.714900088))
            Line((-2.666906693, -8.714900088), (-2.1067927, -9.775552389))
            Line((-2.1067927, -9.775552389), (-1.159516864, -9.039767447))
        make_face()
    extrude(amount=BOSS_EXTRUDE2_37_DEPTH)


with BuildPart() as part_1:
    add(part.part)

    add(body_2.part)  # Boss-Extrude3 merges body 2

    add(body_3.part)  # Boss-Extrude3 merges body 3

    add(body_4.part)  # Boss-Extrude3 merges body 4

    add(body_5.part)  # Boss-Extrude3 merges body 5

    add(body_6.part)  # Boss-Extrude3 merges body 6

    add(body_7.part)  # Boss-Extrude3 merges body 7

    add(body_8.part)  # Boss-Extrude3 merges body 8

    add(body_9.part)  # Boss-Extrude3 merges body 9

    add(body_10.part)  # Boss-Extrude3 merges body 10

    add(body_11.part)  # Boss-Extrude3 merges body 11

    add(body_12.part)  # Boss-Extrude3 merges body 12

    add(body_13.part)  # Boss-Extrude3 merges body 13

    add(body_14.part)  # Boss-Extrude3 merges body 14

    add(body_15.part)  # Boss-Extrude3 merges body 15

    add(body_16.part)  # Boss-Extrude3 merges body 16

    add(body_17.part)  # Boss-Extrude3 merges body 17

    add(body_18.part)  # Boss-Extrude3 merges body 18

    add(body_19.part)  # Boss-Extrude3 merges body 19

    add(body_20.part)  # Boss-Extrude3 merges body 20

    add(body_21.part)  # Boss-Extrude3 merges body 21

    add(body_22.part)  # Boss-Extrude3 merges body 22

    add(body_23.part)  # Boss-Extrude3 merges body 23

    add(body_24.part)  # Boss-Extrude3 merges body 24

    add(body_25.part)  # Boss-Extrude3 merges body 25

    add(body_26.part)  # Boss-Extrude3 merges body 26

    add(body_27.part)  # Boss-Extrude3 merges body 27

    add(body_28.part)  # Boss-Extrude3 merges body 28

    add(body_29.part)  # Boss-Extrude3 merges body 29

    add(body_30.part)  # Boss-Extrude3 merges body 30

    add(body_31.part)  # Boss-Extrude3 merges body 31

    add(body_32.part)  # Boss-Extrude3 merges body 32

    add(body_33.part)  # Boss-Extrude3 merges body 33

    add(body_34.part)  # Boss-Extrude3 merges body 34

    add(body_35.part)  # Boss-Extrude3 merges body 35

    add(body_36.part)  # Boss-Extrude3 merges body 36

    add(body_37.part)  # Boss-Extrude3 merges body 37
    # Sketch1_7 → Boss-Extrude3 (add)
    with BuildSketch(Plane(origin=(0, 0, 0), x_dir=(1, 0, 0), z_dir=(0, 1, 0))):
        Circle(SKETCH1_7_R)
    extrude(amount=BOSS_EXTRUDE3_DEPTH)


solid = part_1.part
